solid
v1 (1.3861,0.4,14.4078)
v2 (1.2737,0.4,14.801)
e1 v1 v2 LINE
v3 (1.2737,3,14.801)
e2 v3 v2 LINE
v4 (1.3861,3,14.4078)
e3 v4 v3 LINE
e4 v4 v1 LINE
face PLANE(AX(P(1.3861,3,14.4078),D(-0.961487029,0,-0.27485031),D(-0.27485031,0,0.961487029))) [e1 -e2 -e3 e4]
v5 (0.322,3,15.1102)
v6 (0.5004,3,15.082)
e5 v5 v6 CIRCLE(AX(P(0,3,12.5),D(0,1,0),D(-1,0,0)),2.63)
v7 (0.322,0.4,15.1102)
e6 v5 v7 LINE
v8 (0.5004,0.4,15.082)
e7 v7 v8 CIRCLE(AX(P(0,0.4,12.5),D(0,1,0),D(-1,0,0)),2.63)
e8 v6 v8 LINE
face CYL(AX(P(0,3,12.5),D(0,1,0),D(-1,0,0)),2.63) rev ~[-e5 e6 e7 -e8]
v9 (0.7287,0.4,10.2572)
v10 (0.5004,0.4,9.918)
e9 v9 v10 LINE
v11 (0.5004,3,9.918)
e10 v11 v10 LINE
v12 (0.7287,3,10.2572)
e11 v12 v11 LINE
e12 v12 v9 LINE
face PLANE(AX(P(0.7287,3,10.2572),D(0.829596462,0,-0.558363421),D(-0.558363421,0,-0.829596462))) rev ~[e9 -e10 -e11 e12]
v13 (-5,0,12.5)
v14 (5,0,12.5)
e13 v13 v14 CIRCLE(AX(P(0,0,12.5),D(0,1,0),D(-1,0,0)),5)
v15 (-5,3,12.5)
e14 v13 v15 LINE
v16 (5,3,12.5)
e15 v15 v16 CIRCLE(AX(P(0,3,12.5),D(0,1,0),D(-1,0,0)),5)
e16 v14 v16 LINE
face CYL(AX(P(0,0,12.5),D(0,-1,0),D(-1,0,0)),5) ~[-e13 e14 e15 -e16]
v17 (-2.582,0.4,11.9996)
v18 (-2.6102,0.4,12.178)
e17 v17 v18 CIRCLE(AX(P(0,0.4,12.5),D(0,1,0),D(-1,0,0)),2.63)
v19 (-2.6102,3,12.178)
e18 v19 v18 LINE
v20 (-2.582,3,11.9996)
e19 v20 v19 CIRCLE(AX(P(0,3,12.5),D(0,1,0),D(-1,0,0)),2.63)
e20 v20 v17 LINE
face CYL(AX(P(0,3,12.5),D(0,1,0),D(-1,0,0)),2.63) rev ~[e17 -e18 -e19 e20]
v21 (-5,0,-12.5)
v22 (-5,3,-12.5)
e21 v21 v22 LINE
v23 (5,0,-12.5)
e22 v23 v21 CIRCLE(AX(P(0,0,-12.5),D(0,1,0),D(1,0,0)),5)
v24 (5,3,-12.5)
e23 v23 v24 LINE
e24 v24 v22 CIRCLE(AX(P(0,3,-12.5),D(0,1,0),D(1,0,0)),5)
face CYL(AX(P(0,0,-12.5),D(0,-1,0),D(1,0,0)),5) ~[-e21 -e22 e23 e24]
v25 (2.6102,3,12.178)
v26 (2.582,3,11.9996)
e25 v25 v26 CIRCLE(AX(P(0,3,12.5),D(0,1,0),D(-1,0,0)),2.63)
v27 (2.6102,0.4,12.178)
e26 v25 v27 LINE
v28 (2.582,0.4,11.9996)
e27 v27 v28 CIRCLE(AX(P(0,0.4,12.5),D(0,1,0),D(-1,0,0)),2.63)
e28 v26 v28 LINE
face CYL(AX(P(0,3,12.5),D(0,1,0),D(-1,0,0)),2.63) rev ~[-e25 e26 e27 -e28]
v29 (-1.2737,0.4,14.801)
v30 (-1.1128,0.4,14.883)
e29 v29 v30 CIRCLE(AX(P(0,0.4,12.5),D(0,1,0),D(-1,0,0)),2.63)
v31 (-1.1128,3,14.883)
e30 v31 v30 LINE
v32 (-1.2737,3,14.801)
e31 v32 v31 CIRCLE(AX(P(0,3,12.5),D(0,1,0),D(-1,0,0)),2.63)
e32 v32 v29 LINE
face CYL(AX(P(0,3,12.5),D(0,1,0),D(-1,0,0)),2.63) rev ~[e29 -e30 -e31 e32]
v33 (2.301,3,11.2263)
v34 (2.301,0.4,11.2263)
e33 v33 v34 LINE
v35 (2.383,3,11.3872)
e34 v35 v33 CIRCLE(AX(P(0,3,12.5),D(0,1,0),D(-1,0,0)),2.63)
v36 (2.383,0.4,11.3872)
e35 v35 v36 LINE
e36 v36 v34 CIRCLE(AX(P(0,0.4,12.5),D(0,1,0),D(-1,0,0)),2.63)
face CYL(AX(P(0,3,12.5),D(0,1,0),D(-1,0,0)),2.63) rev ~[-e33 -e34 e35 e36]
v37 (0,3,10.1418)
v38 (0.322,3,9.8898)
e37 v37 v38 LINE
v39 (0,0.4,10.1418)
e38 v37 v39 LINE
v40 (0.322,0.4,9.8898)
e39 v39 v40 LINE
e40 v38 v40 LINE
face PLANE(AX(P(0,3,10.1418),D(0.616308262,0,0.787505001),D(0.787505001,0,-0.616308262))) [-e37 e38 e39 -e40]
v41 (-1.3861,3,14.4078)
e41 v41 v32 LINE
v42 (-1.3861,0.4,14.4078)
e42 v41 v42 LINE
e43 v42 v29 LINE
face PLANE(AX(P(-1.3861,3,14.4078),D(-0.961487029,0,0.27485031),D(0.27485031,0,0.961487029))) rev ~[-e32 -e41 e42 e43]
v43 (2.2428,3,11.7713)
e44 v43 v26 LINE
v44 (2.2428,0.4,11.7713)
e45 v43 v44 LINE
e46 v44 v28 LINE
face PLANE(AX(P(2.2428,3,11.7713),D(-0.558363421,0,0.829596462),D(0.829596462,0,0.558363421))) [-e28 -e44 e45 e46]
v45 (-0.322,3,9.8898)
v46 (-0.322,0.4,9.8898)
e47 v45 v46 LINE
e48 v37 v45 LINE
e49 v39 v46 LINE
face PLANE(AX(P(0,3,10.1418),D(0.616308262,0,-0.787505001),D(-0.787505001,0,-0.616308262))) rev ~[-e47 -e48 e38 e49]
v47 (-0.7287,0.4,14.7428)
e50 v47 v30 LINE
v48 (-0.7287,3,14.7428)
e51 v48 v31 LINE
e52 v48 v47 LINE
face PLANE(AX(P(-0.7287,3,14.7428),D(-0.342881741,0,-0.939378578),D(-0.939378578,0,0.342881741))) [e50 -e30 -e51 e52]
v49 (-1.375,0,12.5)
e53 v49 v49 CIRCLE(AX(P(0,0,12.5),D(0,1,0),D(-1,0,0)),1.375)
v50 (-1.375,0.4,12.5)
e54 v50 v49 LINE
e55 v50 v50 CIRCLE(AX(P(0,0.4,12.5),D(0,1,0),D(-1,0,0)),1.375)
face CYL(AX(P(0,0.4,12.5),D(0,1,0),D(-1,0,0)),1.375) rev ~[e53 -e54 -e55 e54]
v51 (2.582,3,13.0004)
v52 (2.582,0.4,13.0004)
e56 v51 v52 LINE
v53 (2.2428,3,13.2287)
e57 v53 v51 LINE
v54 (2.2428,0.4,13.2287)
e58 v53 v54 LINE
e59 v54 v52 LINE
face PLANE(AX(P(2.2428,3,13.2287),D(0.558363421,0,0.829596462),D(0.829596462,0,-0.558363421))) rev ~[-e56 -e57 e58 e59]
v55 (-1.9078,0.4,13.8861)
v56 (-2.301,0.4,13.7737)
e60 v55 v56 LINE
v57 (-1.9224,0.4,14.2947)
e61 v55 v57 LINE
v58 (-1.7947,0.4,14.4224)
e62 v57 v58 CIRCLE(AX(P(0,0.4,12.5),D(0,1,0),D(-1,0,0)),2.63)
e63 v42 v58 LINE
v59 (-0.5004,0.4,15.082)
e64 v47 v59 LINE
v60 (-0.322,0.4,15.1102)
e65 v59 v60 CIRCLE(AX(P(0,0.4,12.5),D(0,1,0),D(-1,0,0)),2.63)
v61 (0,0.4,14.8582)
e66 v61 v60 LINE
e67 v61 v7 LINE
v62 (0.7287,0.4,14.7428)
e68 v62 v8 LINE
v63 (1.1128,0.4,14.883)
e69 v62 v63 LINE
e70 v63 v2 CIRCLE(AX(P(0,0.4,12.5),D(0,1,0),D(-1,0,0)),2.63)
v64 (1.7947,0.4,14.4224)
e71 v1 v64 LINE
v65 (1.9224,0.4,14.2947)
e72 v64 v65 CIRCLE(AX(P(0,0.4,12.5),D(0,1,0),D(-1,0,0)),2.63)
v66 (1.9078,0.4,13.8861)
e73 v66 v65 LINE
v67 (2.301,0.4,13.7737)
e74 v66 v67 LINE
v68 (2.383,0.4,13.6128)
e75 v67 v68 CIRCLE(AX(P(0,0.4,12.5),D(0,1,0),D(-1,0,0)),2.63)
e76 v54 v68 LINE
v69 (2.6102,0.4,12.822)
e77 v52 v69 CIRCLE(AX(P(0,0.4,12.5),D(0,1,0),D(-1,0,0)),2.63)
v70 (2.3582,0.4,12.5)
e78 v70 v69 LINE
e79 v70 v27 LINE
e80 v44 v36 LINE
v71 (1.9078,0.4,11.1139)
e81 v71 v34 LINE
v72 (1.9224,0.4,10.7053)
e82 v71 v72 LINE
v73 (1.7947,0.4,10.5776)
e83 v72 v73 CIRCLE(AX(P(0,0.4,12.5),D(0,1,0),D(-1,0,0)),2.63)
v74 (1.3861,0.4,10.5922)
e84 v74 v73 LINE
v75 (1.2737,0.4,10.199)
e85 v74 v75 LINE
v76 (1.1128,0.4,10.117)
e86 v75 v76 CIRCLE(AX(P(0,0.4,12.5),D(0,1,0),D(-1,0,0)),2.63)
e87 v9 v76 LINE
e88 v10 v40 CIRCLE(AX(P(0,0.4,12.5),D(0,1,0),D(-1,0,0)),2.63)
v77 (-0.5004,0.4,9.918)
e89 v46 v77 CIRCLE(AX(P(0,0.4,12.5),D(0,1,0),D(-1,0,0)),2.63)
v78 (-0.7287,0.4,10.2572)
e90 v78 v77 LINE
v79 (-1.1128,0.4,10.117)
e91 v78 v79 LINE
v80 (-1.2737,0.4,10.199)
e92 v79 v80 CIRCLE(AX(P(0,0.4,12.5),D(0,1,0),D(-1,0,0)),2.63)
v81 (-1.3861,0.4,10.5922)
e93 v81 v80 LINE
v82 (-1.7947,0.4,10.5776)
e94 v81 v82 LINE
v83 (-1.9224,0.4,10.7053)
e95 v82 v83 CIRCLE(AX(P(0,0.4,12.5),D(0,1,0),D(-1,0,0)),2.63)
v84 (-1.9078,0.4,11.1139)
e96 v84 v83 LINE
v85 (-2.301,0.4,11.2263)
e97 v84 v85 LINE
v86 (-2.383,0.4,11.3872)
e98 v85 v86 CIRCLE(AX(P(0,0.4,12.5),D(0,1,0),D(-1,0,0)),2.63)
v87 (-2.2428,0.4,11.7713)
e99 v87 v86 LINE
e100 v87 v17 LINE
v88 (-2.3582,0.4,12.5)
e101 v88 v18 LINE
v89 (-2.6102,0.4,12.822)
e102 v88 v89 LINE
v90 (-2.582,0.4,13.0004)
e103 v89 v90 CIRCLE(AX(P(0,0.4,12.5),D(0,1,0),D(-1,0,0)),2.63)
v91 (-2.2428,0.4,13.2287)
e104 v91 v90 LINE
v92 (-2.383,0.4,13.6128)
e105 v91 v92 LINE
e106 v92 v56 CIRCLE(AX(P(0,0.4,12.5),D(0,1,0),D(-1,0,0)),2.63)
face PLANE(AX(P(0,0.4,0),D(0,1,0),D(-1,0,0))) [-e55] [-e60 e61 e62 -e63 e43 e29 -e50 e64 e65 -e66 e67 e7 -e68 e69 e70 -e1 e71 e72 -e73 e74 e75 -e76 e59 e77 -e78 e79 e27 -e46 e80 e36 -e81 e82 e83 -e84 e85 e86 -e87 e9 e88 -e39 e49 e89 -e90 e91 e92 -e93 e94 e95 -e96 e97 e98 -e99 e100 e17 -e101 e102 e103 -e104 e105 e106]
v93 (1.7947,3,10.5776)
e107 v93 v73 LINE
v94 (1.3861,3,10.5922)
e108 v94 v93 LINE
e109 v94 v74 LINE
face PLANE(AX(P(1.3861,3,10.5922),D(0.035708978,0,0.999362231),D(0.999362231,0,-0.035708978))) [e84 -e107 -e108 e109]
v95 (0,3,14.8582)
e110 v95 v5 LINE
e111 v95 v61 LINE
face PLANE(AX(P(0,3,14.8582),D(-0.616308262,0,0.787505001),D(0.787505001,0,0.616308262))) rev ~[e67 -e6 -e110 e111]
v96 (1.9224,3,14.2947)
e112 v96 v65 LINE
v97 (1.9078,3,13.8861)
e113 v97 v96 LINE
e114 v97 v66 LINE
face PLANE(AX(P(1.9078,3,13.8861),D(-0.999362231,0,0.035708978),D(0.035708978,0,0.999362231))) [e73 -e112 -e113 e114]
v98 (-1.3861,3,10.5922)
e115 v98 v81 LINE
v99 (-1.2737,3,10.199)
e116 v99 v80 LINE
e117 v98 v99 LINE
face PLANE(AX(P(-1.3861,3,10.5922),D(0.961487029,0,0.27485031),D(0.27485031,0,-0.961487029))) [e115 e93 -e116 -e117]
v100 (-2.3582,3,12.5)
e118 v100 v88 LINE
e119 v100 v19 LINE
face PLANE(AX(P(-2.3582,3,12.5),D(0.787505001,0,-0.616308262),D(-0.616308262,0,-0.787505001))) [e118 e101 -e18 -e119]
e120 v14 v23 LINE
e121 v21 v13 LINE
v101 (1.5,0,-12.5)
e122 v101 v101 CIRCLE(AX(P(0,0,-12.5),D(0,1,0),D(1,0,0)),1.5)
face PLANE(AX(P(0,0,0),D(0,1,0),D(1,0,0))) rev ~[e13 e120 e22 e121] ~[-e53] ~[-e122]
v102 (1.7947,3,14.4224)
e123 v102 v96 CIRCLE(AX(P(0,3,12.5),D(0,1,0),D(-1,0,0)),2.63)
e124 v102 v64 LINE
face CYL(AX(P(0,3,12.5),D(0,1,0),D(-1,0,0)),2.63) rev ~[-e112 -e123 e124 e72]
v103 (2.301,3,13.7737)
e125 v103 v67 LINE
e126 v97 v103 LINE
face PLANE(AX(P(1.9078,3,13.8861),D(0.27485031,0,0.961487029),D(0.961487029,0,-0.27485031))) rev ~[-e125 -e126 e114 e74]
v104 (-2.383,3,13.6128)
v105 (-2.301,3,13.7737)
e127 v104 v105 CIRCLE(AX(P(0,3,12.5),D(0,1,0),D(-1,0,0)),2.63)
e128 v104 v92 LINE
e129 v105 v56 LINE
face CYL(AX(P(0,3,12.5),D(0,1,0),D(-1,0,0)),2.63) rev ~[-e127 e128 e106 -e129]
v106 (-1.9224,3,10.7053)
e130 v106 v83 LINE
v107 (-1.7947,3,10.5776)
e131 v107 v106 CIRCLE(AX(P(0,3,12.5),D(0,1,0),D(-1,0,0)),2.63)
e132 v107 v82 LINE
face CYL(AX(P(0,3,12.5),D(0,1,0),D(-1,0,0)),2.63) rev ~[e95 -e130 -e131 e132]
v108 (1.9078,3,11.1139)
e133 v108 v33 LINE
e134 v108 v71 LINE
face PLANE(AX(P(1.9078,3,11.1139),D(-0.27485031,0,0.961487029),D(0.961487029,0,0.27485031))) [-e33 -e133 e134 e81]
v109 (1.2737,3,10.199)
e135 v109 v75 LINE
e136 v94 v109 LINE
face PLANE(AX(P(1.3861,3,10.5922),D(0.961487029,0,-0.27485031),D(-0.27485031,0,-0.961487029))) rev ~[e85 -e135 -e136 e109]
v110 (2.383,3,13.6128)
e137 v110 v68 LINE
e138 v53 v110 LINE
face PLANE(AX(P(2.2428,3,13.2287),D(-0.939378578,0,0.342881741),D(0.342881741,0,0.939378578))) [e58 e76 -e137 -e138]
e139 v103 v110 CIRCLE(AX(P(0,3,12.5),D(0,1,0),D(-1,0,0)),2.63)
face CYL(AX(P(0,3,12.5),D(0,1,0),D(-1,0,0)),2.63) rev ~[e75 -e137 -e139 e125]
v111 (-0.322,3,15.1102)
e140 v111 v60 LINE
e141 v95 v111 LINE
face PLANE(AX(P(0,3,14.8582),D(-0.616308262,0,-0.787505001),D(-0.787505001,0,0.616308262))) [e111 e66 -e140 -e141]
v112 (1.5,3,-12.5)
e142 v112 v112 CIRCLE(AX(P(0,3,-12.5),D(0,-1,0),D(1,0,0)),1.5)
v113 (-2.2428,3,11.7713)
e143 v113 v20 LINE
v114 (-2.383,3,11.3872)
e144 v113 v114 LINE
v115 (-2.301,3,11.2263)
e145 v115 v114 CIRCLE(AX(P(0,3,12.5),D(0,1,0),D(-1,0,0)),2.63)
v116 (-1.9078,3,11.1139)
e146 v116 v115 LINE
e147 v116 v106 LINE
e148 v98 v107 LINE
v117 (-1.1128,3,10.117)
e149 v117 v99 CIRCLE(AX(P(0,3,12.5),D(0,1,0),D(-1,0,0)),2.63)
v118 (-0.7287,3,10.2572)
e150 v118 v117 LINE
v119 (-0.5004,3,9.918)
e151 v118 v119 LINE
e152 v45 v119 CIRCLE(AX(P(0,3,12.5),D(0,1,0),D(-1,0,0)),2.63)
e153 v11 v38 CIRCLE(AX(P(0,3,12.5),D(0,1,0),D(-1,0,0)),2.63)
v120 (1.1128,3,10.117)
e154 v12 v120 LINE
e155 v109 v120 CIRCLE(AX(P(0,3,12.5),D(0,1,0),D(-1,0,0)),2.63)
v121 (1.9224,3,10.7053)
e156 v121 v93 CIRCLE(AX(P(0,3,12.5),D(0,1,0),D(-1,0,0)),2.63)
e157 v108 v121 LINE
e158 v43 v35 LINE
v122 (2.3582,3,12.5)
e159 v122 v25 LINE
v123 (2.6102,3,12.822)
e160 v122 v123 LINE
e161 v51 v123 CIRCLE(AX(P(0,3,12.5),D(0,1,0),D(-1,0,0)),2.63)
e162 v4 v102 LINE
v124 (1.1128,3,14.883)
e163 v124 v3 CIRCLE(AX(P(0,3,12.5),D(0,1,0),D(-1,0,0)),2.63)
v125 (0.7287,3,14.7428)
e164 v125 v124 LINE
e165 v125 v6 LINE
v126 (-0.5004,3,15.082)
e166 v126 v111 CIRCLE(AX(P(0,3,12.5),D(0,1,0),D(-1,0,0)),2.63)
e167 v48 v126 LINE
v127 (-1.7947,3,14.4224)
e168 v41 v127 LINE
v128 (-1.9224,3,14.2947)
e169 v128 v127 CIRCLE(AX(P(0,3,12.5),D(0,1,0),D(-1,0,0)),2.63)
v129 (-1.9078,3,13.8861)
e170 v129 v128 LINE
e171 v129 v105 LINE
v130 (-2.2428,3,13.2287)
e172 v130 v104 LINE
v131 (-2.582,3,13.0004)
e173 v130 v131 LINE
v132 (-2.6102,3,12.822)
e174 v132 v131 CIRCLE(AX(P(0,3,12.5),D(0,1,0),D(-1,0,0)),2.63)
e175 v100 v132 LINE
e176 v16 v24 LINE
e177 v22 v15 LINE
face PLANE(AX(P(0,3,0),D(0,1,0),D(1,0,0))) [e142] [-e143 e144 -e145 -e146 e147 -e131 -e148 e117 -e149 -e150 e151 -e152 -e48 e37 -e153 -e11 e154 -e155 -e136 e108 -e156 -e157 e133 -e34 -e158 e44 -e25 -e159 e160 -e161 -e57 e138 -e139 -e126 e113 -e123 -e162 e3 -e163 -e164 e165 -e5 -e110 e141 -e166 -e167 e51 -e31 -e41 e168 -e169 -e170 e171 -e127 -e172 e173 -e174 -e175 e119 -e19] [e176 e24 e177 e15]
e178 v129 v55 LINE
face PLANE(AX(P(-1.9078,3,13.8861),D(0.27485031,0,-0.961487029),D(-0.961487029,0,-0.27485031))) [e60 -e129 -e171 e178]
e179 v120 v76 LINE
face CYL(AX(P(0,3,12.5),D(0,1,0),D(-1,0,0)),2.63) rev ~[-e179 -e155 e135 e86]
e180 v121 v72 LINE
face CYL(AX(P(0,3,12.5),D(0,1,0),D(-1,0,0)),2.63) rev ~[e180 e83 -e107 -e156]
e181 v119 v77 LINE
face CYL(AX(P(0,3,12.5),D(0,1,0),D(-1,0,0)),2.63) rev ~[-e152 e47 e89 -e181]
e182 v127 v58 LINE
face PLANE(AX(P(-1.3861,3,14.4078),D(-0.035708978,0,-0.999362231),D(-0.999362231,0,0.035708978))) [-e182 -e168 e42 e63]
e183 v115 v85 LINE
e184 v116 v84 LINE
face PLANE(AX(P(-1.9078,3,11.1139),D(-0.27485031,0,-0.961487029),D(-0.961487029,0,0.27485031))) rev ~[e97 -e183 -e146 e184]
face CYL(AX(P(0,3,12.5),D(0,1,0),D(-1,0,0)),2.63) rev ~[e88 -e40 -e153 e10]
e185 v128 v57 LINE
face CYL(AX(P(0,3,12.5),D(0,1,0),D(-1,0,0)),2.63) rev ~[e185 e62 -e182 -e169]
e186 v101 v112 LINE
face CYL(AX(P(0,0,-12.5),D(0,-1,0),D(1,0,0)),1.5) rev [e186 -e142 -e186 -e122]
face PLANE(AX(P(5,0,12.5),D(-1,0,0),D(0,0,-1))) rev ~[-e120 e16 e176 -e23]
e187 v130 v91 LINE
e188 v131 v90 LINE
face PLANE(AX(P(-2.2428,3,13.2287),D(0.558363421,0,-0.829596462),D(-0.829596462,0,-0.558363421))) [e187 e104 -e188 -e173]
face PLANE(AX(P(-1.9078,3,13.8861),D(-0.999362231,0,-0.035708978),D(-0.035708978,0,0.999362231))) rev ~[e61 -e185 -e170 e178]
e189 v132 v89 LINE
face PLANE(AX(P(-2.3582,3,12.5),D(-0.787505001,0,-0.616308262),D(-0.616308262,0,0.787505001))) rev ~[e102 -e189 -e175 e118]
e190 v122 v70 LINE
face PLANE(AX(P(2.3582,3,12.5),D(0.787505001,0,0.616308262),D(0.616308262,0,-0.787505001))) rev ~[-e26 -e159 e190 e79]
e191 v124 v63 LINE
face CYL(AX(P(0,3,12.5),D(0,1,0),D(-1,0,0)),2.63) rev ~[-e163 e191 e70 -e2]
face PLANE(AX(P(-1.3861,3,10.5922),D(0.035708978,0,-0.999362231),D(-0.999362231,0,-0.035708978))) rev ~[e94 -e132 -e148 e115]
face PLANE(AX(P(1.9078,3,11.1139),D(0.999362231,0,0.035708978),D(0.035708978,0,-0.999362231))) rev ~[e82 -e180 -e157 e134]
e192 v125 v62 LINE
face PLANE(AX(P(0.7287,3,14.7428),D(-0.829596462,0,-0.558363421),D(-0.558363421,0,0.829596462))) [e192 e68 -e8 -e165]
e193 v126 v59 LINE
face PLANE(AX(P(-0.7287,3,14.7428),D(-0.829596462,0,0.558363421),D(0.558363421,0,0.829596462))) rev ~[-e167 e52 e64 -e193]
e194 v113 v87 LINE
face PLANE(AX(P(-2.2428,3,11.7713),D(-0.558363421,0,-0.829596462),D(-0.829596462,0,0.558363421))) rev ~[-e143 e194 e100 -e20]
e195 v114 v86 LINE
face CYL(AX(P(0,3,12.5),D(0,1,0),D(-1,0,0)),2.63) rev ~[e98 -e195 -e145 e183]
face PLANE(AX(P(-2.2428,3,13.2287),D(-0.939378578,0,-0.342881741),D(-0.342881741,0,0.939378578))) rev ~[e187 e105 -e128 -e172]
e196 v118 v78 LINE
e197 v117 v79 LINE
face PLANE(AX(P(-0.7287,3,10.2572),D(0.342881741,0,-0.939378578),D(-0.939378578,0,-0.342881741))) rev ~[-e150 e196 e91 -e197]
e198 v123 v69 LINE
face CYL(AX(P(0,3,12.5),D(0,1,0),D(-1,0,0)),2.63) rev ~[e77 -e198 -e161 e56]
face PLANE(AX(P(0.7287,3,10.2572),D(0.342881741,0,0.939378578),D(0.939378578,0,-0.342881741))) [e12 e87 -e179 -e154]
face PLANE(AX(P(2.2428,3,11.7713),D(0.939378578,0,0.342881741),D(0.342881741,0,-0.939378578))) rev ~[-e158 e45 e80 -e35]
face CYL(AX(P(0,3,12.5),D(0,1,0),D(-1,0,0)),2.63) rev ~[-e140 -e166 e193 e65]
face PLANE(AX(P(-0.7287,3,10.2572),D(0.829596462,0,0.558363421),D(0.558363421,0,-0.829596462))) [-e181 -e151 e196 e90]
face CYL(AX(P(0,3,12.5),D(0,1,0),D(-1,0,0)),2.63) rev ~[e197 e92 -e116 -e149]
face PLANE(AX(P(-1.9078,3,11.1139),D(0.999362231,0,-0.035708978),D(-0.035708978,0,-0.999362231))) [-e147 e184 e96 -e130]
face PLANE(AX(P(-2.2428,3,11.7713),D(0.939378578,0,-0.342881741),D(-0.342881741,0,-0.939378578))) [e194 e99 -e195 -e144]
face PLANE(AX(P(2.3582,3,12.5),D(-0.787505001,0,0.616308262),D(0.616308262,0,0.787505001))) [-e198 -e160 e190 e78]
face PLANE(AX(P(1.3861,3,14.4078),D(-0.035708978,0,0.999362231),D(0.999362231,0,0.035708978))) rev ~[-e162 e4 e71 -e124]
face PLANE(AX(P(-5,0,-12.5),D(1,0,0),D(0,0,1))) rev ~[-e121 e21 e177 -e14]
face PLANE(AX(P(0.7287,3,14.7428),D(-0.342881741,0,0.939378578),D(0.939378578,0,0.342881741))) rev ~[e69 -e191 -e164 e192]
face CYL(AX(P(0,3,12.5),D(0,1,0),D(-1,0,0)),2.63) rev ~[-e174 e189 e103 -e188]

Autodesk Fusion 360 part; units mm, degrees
sketch "Sketch1" plane through (0, 0, 0) normal (0, 1, 0) x (1, 0, 0)
  line L0 (5, 12.5) -> (-5, 12.5)
  line L1 (-5, 12.5) -> (-5, -12.5)
  line L2 (-5, -12.5) -> (5, -12.5)
  line L3 (5, -12.5) -> (5, 12.5)
  line L4 (5, 12.5) -> (-5, -12.5) construction
  line L5 (-5, 12.5) -> (5, -12.5) construction
  arc A0 (5, 12.5) -> (-5, 12.5) centre (0, 12.5) ccw
  line L6 (-5, 0) -> (5, 0) construction
  circle A1 centre (0, 12.5) radius 1.5
  arc A2 (-5, -12.5) -> (5, -12.5) centre (0, -12.5) ccw
  circle A3 centre (0, -12.5) radius 1.5
  dimension "d1" = 10
  dimension "d2" = 25
  dimension "d3" = 3
extrude "Extrude1" add sketch "Sketch1" along normal blind 3 contours L0 L1 L2 L3 A1 A3 | L0 A0 A1 | L2 A2 A3 | L2 A3 | L2 A3
sketch "Boceto2" plane through (0, 3, 0) normal (0, 1, 0) x (-1, 0, 0)
  circle A0 centre (0, -12.5) radius 1.5
  arc A1 (5, 12.5) -> (-5, 12.5) centre (0, 12.5) ccw
  line L0 (-5, 12.5) -> (-5, -12.5)
  arc A2 (-5, -12.5) -> (5, -12.5) centre (0, -12.5) ccw
  line L1 (5, -12.5) -> (5, 12.5)
  circle A3 centre (0, 12.5) radius 2.63
  line L2 (0, 9.87) -> (0, 15.13) construction
  line L3 (0, 10.1418) -> (0.322, 9.8898)
  line L4 (0, 10.1418) -> (-0.322, 9.8898)
  line L5 (0.7287, 10.2572) -> (1.1128, 10.117)
  line L6 (0.7287, 10.2572) -> (0.5004, 9.918)
  line L7 (1.3861, 10.5922) -> (1.7947, 10.5776)
  line L8 (1.3861, 10.5922) -> (1.2737, 10.199)
  line L9 (1.9078, 11.1139) -> (2.301, 11.2263)
  line L10 (1.9078, 11.1139) -> (1.9224, 10.7053)
  line L11 (2.2428, 11.7713) -> (2.582, 11.9996)
  line L12 (2.2428, 11.7713) -> (2.383, 11.3872)
  line L13 (2.3582, 12.5) -> (2.6102, 12.822)
  line L14 (2.3582, 12.5) -> (2.6102, 12.178)
  line L15 (2.2428, 13.2287) -> (2.383, 13.6128)
  line L16 (2.2428, 13.2287) -> (2.582, 13.0004)
  line L17 (1.9078, 13.8861) -> (1.9224, 14.2947)
  line L18 (1.9078, 13.8861) -> (2.301, 13.7737)
  line L19 (1.3861, 14.4078) -> (1.2737, 14.801)
  line L20 (1.3861, 14.4078) -> (1.7947, 14.4224)
  line L21 (0.7287, 14.7428) -> (0.5004, 15.082)
  line L22 (0.7287, 14.7428) -> (1.1128, 14.883)
  line L23 (0, 14.8582) -> (-0.322, 15.1102)
  line L24 (0, 14.8582) -> (0.322, 15.1102)
  line L25 (-0.7287, 14.7428) -> (-1.1128, 14.883)
  line L26 (-0.7287, 14.7428) -> (-0.5004, 15.082)
  line L27 (-1.3861, 14.4078) -> (-1.7947, 14.4224)
  line L28 (-1.3861, 14.4078) -> (-1.2737, 14.801)
  line L29 (-1.9078, 13.8861) -> (-2.301, 13.7737)
  line L30 (-1.9078, 13.8861) -> (-1.9224, 14.2947)
  line L31 (-2.2428, 13.2287) -> (-2.582, 13.0004)
  line L32 (-2.2428, 13.2287) -> (-2.383, 13.6128)
  line L33 (-2.3582, 12.5) -> (-2.6102, 12.178)
  line L34 (-2.3582, 12.5) -> (-2.6102, 12.822)
  line L35 (-2.2428, 11.7713) -> (-2.383, 11.3872)
  line L36 (-2.2428, 11.7713) -> (-2.582, 11.9996)
  line L37 (-1.9078, 11.1139) -> (-1.9224, 10.7053)
  line L38 (-1.9078, 11.1139) -> (-2.301, 11.2263)
  line L39 (-1.3861, 10.5922) -> (-1.2737, 10.199)
  line L40 (-1.3861, 10.5922) -> (-1.7947, 10.5776)
  line L41 (-0.7287, 10.2572) -> (-0.5004, 9.918)
  line L42 (-0.7287, 10.2572) -> (-1.1128, 10.117)
  dimension "d6" = 5.26
  dimension "d7" = 0.252
  dimension "d8" = 0.322
  dimension "d10" = 360
extrude "Extruir2" cut sketch "Boceto2" against normal blind 2.6 contours A3 L3 L4 L5 L6 L7 L8 L9 L10 L11 L12 L13 L14 L15 L16 L17 L18 L19 L20 L21 L22 L23 L24 L25 L26 L27 L28 L29 L30 L31 L32 L33 L34 L35 L36 L37 L38 L39 L40 L41 L42
sketch "Boceto3" plane through (0, 0.4, 0) normal (0, 1, 0) x (-1, 0, 0)
  arc A0 (-0.5004, 9.918) -> (-0.322, 9.8898) centre (0, 12.5) ccw
  line L0 (-0.322, 9.8898) -> (0, 10.1418)
  line L1 (0, 10.1418) -> (0.322, 9.8898)
  arc A1 (0.322, 9.8898) -> (0.5004, 9.918) centre (0, 12.5) ccw
  line L2 (0.5004, 9.918) -> (0.7287, 10.2572)
  line L3 (0.7287, 10.2572) -> (1.1128, 10.117)
  arc A2 (1.1128, 10.117) -> (1.2737, 10.199) centre (0, 12.5) ccw
  line L4 (1.2737, 10.199) -> (1.3861, 10.5922)
  line L5 (1.3861, 10.5922) -> (1.7947, 10.5776)
  arc A3 (1.7947, 10.5776) -> (1.9224, 10.7053) centre (0, 12.5) ccw
  line L6 (1.9224, 10.7053) -> (1.9078, 11.1139)
  line L7 (1.9078, 11.1139) -> (2.301, 11.2263)
  arc A4 (2.301, 11.2263) -> (2.383, 11.3872) centre (0, 12.5) ccw
  line L8 (2.383, 11.3872) -> (2.2428, 11.7713)
  line L9 (2.2428, 11.7713) -> (2.582, 11.9996)
  arc A5 (2.582, 11.9996) -> (2.6102, 12.178) centre (0, 12.5) ccw
  line L10 (2.6102, 12.178) -> (2.3582, 12.5)
  line L11 (2.3582, 12.5) -> (2.6102, 12.822)
  arc A6 (2.6102, 12.822) -> (2.582, 13.0004) centre (0, 12.5) ccw
  line L12 (2.582, 13.0004) -> (2.2428, 13.2287)
  line L13 (2.2428, 13.2287) -> (2.383, 13.6128)
  arc A7 (2.383, 13.6128) -> (2.301, 13.7737) centre (0, 12.5) ccw
  line L14 (2.301, 13.7737) -> (1.9078, 13.8861)
  line L15 (1.9078, 13.8861) -> (1.9224, 14.2947)
  arc A8 (1.9224, 14.2947) -> (1.7947, 14.4224) centre (0, 12.5) ccw
  line L16 (1.7947, 14.4224) -> (1.3861, 14.4078)
  line L17 (1.3861, 14.4078) -> (1.2737, 14.801)
  arc A9 (1.2737, 14.801) -> (1.1128, 14.883) centre (0, 12.5) ccw
  line L18 (1.1128, 14.883) -> (0.7287, 14.7428)
  line L19 (0.7287, 14.7428) -> (0.5004, 15.082)
  arc A10 (0.5004, 15.082) -> (0.322, 15.1102) centre (0, 12.5) ccw
  line L20 (0.322, 15.1102) -> (0, 14.8582)
  line L21 (0, 14.8582) -> (-0.322, 15.1102)
  arc A11 (-0.322, 15.1102) -> (-0.5004, 15.082) centre (0, 12.5) ccw
  line L22 (-0.5004, 15.082) -> (-0.7287, 14.7428)
  line L23 (-0.7287, 14.7428) -> (-1.1128, 14.883)
  arc A12 (-1.1128, 14.883) -> (-1.2737, 14.801) centre (0, 12.5) ccw
  line L24 (-1.2737, 14.801) -> (-1.3861, 14.4078)
  line L25 (-1.3861, 14.4078) -> (-1.7947, 14.4224)
  arc A13 (-1.7947, 14.4224) -> (-1.9224, 14.2947) centre (0, 12.5) ccw
  line L26 (-1.9224, 14.2947) -> (-1.9078, 13.8861)
  line L27 (-1.9078, 13.8861) -> (-2.301, 13.7737)
  arc A14 (-2.301, 13.7737) -> (-2.383, 13.6128) centre (0, 12.5) ccw
  line L28 (-2.383, 13.6128) -> (-2.2428, 13.2287)
  line L29 (-2.2428, 13.2287) -> (-2.582, 13.0004)
  arc A15 (-2.582, 13.0004) -> (-2.6102, 12.822) centre (0, 12.5) ccw
  line L30 (-2.6102, 12.822) -> (-2.3582, 12.5)
  line L31 (-2.3582, 12.5) -> (-2.6102, 12.178)
  arc A16 (-2.6102, 12.178) -> (-2.582, 11.9996) centre (0, 12.5) ccw
  line L32 (-2.582, 11.9996) -> (-2.2428, 11.7713)
  line L33 (-2.2428, 11.7713) -> (-2.383, 11.3872)
  arc A17 (-2.383, 11.3872) -> (-2.301, 11.2263) centre (0, 12.5) ccw
  line L34 (-2.301, 11.2263) -> (-1.9078, 11.1139)
  line L35 (-1.9078, 11.1139) -> (-1.9224, 10.7053)
  arc A18 (-1.9224, 10.7053) -> (-1.7947, 10.5776) centre (0, 12.5) ccw
  line L36 (-1.7947, 10.5776) -> (-1.3861, 10.5922)
  line L37 (-1.3861, 10.5922) -> (-1.2737, 10.199)
  arc A19 (-1.2737, 10.199) -> (-1.1128, 10.117) centre (0, 12.5) ccw
  line L38 (-1.1128, 10.117) -> (-0.7287, 10.2572)
  line L39 (-0.7287, 10.2572) -> (-0.5004, 9.918)
  circle A20 centre (0, 12.5) radius 1.375
  dimension "d13" = 2.75
extrude "Extruir3" cut sketch "Boceto3" against normal blind 0.5 contours A20
